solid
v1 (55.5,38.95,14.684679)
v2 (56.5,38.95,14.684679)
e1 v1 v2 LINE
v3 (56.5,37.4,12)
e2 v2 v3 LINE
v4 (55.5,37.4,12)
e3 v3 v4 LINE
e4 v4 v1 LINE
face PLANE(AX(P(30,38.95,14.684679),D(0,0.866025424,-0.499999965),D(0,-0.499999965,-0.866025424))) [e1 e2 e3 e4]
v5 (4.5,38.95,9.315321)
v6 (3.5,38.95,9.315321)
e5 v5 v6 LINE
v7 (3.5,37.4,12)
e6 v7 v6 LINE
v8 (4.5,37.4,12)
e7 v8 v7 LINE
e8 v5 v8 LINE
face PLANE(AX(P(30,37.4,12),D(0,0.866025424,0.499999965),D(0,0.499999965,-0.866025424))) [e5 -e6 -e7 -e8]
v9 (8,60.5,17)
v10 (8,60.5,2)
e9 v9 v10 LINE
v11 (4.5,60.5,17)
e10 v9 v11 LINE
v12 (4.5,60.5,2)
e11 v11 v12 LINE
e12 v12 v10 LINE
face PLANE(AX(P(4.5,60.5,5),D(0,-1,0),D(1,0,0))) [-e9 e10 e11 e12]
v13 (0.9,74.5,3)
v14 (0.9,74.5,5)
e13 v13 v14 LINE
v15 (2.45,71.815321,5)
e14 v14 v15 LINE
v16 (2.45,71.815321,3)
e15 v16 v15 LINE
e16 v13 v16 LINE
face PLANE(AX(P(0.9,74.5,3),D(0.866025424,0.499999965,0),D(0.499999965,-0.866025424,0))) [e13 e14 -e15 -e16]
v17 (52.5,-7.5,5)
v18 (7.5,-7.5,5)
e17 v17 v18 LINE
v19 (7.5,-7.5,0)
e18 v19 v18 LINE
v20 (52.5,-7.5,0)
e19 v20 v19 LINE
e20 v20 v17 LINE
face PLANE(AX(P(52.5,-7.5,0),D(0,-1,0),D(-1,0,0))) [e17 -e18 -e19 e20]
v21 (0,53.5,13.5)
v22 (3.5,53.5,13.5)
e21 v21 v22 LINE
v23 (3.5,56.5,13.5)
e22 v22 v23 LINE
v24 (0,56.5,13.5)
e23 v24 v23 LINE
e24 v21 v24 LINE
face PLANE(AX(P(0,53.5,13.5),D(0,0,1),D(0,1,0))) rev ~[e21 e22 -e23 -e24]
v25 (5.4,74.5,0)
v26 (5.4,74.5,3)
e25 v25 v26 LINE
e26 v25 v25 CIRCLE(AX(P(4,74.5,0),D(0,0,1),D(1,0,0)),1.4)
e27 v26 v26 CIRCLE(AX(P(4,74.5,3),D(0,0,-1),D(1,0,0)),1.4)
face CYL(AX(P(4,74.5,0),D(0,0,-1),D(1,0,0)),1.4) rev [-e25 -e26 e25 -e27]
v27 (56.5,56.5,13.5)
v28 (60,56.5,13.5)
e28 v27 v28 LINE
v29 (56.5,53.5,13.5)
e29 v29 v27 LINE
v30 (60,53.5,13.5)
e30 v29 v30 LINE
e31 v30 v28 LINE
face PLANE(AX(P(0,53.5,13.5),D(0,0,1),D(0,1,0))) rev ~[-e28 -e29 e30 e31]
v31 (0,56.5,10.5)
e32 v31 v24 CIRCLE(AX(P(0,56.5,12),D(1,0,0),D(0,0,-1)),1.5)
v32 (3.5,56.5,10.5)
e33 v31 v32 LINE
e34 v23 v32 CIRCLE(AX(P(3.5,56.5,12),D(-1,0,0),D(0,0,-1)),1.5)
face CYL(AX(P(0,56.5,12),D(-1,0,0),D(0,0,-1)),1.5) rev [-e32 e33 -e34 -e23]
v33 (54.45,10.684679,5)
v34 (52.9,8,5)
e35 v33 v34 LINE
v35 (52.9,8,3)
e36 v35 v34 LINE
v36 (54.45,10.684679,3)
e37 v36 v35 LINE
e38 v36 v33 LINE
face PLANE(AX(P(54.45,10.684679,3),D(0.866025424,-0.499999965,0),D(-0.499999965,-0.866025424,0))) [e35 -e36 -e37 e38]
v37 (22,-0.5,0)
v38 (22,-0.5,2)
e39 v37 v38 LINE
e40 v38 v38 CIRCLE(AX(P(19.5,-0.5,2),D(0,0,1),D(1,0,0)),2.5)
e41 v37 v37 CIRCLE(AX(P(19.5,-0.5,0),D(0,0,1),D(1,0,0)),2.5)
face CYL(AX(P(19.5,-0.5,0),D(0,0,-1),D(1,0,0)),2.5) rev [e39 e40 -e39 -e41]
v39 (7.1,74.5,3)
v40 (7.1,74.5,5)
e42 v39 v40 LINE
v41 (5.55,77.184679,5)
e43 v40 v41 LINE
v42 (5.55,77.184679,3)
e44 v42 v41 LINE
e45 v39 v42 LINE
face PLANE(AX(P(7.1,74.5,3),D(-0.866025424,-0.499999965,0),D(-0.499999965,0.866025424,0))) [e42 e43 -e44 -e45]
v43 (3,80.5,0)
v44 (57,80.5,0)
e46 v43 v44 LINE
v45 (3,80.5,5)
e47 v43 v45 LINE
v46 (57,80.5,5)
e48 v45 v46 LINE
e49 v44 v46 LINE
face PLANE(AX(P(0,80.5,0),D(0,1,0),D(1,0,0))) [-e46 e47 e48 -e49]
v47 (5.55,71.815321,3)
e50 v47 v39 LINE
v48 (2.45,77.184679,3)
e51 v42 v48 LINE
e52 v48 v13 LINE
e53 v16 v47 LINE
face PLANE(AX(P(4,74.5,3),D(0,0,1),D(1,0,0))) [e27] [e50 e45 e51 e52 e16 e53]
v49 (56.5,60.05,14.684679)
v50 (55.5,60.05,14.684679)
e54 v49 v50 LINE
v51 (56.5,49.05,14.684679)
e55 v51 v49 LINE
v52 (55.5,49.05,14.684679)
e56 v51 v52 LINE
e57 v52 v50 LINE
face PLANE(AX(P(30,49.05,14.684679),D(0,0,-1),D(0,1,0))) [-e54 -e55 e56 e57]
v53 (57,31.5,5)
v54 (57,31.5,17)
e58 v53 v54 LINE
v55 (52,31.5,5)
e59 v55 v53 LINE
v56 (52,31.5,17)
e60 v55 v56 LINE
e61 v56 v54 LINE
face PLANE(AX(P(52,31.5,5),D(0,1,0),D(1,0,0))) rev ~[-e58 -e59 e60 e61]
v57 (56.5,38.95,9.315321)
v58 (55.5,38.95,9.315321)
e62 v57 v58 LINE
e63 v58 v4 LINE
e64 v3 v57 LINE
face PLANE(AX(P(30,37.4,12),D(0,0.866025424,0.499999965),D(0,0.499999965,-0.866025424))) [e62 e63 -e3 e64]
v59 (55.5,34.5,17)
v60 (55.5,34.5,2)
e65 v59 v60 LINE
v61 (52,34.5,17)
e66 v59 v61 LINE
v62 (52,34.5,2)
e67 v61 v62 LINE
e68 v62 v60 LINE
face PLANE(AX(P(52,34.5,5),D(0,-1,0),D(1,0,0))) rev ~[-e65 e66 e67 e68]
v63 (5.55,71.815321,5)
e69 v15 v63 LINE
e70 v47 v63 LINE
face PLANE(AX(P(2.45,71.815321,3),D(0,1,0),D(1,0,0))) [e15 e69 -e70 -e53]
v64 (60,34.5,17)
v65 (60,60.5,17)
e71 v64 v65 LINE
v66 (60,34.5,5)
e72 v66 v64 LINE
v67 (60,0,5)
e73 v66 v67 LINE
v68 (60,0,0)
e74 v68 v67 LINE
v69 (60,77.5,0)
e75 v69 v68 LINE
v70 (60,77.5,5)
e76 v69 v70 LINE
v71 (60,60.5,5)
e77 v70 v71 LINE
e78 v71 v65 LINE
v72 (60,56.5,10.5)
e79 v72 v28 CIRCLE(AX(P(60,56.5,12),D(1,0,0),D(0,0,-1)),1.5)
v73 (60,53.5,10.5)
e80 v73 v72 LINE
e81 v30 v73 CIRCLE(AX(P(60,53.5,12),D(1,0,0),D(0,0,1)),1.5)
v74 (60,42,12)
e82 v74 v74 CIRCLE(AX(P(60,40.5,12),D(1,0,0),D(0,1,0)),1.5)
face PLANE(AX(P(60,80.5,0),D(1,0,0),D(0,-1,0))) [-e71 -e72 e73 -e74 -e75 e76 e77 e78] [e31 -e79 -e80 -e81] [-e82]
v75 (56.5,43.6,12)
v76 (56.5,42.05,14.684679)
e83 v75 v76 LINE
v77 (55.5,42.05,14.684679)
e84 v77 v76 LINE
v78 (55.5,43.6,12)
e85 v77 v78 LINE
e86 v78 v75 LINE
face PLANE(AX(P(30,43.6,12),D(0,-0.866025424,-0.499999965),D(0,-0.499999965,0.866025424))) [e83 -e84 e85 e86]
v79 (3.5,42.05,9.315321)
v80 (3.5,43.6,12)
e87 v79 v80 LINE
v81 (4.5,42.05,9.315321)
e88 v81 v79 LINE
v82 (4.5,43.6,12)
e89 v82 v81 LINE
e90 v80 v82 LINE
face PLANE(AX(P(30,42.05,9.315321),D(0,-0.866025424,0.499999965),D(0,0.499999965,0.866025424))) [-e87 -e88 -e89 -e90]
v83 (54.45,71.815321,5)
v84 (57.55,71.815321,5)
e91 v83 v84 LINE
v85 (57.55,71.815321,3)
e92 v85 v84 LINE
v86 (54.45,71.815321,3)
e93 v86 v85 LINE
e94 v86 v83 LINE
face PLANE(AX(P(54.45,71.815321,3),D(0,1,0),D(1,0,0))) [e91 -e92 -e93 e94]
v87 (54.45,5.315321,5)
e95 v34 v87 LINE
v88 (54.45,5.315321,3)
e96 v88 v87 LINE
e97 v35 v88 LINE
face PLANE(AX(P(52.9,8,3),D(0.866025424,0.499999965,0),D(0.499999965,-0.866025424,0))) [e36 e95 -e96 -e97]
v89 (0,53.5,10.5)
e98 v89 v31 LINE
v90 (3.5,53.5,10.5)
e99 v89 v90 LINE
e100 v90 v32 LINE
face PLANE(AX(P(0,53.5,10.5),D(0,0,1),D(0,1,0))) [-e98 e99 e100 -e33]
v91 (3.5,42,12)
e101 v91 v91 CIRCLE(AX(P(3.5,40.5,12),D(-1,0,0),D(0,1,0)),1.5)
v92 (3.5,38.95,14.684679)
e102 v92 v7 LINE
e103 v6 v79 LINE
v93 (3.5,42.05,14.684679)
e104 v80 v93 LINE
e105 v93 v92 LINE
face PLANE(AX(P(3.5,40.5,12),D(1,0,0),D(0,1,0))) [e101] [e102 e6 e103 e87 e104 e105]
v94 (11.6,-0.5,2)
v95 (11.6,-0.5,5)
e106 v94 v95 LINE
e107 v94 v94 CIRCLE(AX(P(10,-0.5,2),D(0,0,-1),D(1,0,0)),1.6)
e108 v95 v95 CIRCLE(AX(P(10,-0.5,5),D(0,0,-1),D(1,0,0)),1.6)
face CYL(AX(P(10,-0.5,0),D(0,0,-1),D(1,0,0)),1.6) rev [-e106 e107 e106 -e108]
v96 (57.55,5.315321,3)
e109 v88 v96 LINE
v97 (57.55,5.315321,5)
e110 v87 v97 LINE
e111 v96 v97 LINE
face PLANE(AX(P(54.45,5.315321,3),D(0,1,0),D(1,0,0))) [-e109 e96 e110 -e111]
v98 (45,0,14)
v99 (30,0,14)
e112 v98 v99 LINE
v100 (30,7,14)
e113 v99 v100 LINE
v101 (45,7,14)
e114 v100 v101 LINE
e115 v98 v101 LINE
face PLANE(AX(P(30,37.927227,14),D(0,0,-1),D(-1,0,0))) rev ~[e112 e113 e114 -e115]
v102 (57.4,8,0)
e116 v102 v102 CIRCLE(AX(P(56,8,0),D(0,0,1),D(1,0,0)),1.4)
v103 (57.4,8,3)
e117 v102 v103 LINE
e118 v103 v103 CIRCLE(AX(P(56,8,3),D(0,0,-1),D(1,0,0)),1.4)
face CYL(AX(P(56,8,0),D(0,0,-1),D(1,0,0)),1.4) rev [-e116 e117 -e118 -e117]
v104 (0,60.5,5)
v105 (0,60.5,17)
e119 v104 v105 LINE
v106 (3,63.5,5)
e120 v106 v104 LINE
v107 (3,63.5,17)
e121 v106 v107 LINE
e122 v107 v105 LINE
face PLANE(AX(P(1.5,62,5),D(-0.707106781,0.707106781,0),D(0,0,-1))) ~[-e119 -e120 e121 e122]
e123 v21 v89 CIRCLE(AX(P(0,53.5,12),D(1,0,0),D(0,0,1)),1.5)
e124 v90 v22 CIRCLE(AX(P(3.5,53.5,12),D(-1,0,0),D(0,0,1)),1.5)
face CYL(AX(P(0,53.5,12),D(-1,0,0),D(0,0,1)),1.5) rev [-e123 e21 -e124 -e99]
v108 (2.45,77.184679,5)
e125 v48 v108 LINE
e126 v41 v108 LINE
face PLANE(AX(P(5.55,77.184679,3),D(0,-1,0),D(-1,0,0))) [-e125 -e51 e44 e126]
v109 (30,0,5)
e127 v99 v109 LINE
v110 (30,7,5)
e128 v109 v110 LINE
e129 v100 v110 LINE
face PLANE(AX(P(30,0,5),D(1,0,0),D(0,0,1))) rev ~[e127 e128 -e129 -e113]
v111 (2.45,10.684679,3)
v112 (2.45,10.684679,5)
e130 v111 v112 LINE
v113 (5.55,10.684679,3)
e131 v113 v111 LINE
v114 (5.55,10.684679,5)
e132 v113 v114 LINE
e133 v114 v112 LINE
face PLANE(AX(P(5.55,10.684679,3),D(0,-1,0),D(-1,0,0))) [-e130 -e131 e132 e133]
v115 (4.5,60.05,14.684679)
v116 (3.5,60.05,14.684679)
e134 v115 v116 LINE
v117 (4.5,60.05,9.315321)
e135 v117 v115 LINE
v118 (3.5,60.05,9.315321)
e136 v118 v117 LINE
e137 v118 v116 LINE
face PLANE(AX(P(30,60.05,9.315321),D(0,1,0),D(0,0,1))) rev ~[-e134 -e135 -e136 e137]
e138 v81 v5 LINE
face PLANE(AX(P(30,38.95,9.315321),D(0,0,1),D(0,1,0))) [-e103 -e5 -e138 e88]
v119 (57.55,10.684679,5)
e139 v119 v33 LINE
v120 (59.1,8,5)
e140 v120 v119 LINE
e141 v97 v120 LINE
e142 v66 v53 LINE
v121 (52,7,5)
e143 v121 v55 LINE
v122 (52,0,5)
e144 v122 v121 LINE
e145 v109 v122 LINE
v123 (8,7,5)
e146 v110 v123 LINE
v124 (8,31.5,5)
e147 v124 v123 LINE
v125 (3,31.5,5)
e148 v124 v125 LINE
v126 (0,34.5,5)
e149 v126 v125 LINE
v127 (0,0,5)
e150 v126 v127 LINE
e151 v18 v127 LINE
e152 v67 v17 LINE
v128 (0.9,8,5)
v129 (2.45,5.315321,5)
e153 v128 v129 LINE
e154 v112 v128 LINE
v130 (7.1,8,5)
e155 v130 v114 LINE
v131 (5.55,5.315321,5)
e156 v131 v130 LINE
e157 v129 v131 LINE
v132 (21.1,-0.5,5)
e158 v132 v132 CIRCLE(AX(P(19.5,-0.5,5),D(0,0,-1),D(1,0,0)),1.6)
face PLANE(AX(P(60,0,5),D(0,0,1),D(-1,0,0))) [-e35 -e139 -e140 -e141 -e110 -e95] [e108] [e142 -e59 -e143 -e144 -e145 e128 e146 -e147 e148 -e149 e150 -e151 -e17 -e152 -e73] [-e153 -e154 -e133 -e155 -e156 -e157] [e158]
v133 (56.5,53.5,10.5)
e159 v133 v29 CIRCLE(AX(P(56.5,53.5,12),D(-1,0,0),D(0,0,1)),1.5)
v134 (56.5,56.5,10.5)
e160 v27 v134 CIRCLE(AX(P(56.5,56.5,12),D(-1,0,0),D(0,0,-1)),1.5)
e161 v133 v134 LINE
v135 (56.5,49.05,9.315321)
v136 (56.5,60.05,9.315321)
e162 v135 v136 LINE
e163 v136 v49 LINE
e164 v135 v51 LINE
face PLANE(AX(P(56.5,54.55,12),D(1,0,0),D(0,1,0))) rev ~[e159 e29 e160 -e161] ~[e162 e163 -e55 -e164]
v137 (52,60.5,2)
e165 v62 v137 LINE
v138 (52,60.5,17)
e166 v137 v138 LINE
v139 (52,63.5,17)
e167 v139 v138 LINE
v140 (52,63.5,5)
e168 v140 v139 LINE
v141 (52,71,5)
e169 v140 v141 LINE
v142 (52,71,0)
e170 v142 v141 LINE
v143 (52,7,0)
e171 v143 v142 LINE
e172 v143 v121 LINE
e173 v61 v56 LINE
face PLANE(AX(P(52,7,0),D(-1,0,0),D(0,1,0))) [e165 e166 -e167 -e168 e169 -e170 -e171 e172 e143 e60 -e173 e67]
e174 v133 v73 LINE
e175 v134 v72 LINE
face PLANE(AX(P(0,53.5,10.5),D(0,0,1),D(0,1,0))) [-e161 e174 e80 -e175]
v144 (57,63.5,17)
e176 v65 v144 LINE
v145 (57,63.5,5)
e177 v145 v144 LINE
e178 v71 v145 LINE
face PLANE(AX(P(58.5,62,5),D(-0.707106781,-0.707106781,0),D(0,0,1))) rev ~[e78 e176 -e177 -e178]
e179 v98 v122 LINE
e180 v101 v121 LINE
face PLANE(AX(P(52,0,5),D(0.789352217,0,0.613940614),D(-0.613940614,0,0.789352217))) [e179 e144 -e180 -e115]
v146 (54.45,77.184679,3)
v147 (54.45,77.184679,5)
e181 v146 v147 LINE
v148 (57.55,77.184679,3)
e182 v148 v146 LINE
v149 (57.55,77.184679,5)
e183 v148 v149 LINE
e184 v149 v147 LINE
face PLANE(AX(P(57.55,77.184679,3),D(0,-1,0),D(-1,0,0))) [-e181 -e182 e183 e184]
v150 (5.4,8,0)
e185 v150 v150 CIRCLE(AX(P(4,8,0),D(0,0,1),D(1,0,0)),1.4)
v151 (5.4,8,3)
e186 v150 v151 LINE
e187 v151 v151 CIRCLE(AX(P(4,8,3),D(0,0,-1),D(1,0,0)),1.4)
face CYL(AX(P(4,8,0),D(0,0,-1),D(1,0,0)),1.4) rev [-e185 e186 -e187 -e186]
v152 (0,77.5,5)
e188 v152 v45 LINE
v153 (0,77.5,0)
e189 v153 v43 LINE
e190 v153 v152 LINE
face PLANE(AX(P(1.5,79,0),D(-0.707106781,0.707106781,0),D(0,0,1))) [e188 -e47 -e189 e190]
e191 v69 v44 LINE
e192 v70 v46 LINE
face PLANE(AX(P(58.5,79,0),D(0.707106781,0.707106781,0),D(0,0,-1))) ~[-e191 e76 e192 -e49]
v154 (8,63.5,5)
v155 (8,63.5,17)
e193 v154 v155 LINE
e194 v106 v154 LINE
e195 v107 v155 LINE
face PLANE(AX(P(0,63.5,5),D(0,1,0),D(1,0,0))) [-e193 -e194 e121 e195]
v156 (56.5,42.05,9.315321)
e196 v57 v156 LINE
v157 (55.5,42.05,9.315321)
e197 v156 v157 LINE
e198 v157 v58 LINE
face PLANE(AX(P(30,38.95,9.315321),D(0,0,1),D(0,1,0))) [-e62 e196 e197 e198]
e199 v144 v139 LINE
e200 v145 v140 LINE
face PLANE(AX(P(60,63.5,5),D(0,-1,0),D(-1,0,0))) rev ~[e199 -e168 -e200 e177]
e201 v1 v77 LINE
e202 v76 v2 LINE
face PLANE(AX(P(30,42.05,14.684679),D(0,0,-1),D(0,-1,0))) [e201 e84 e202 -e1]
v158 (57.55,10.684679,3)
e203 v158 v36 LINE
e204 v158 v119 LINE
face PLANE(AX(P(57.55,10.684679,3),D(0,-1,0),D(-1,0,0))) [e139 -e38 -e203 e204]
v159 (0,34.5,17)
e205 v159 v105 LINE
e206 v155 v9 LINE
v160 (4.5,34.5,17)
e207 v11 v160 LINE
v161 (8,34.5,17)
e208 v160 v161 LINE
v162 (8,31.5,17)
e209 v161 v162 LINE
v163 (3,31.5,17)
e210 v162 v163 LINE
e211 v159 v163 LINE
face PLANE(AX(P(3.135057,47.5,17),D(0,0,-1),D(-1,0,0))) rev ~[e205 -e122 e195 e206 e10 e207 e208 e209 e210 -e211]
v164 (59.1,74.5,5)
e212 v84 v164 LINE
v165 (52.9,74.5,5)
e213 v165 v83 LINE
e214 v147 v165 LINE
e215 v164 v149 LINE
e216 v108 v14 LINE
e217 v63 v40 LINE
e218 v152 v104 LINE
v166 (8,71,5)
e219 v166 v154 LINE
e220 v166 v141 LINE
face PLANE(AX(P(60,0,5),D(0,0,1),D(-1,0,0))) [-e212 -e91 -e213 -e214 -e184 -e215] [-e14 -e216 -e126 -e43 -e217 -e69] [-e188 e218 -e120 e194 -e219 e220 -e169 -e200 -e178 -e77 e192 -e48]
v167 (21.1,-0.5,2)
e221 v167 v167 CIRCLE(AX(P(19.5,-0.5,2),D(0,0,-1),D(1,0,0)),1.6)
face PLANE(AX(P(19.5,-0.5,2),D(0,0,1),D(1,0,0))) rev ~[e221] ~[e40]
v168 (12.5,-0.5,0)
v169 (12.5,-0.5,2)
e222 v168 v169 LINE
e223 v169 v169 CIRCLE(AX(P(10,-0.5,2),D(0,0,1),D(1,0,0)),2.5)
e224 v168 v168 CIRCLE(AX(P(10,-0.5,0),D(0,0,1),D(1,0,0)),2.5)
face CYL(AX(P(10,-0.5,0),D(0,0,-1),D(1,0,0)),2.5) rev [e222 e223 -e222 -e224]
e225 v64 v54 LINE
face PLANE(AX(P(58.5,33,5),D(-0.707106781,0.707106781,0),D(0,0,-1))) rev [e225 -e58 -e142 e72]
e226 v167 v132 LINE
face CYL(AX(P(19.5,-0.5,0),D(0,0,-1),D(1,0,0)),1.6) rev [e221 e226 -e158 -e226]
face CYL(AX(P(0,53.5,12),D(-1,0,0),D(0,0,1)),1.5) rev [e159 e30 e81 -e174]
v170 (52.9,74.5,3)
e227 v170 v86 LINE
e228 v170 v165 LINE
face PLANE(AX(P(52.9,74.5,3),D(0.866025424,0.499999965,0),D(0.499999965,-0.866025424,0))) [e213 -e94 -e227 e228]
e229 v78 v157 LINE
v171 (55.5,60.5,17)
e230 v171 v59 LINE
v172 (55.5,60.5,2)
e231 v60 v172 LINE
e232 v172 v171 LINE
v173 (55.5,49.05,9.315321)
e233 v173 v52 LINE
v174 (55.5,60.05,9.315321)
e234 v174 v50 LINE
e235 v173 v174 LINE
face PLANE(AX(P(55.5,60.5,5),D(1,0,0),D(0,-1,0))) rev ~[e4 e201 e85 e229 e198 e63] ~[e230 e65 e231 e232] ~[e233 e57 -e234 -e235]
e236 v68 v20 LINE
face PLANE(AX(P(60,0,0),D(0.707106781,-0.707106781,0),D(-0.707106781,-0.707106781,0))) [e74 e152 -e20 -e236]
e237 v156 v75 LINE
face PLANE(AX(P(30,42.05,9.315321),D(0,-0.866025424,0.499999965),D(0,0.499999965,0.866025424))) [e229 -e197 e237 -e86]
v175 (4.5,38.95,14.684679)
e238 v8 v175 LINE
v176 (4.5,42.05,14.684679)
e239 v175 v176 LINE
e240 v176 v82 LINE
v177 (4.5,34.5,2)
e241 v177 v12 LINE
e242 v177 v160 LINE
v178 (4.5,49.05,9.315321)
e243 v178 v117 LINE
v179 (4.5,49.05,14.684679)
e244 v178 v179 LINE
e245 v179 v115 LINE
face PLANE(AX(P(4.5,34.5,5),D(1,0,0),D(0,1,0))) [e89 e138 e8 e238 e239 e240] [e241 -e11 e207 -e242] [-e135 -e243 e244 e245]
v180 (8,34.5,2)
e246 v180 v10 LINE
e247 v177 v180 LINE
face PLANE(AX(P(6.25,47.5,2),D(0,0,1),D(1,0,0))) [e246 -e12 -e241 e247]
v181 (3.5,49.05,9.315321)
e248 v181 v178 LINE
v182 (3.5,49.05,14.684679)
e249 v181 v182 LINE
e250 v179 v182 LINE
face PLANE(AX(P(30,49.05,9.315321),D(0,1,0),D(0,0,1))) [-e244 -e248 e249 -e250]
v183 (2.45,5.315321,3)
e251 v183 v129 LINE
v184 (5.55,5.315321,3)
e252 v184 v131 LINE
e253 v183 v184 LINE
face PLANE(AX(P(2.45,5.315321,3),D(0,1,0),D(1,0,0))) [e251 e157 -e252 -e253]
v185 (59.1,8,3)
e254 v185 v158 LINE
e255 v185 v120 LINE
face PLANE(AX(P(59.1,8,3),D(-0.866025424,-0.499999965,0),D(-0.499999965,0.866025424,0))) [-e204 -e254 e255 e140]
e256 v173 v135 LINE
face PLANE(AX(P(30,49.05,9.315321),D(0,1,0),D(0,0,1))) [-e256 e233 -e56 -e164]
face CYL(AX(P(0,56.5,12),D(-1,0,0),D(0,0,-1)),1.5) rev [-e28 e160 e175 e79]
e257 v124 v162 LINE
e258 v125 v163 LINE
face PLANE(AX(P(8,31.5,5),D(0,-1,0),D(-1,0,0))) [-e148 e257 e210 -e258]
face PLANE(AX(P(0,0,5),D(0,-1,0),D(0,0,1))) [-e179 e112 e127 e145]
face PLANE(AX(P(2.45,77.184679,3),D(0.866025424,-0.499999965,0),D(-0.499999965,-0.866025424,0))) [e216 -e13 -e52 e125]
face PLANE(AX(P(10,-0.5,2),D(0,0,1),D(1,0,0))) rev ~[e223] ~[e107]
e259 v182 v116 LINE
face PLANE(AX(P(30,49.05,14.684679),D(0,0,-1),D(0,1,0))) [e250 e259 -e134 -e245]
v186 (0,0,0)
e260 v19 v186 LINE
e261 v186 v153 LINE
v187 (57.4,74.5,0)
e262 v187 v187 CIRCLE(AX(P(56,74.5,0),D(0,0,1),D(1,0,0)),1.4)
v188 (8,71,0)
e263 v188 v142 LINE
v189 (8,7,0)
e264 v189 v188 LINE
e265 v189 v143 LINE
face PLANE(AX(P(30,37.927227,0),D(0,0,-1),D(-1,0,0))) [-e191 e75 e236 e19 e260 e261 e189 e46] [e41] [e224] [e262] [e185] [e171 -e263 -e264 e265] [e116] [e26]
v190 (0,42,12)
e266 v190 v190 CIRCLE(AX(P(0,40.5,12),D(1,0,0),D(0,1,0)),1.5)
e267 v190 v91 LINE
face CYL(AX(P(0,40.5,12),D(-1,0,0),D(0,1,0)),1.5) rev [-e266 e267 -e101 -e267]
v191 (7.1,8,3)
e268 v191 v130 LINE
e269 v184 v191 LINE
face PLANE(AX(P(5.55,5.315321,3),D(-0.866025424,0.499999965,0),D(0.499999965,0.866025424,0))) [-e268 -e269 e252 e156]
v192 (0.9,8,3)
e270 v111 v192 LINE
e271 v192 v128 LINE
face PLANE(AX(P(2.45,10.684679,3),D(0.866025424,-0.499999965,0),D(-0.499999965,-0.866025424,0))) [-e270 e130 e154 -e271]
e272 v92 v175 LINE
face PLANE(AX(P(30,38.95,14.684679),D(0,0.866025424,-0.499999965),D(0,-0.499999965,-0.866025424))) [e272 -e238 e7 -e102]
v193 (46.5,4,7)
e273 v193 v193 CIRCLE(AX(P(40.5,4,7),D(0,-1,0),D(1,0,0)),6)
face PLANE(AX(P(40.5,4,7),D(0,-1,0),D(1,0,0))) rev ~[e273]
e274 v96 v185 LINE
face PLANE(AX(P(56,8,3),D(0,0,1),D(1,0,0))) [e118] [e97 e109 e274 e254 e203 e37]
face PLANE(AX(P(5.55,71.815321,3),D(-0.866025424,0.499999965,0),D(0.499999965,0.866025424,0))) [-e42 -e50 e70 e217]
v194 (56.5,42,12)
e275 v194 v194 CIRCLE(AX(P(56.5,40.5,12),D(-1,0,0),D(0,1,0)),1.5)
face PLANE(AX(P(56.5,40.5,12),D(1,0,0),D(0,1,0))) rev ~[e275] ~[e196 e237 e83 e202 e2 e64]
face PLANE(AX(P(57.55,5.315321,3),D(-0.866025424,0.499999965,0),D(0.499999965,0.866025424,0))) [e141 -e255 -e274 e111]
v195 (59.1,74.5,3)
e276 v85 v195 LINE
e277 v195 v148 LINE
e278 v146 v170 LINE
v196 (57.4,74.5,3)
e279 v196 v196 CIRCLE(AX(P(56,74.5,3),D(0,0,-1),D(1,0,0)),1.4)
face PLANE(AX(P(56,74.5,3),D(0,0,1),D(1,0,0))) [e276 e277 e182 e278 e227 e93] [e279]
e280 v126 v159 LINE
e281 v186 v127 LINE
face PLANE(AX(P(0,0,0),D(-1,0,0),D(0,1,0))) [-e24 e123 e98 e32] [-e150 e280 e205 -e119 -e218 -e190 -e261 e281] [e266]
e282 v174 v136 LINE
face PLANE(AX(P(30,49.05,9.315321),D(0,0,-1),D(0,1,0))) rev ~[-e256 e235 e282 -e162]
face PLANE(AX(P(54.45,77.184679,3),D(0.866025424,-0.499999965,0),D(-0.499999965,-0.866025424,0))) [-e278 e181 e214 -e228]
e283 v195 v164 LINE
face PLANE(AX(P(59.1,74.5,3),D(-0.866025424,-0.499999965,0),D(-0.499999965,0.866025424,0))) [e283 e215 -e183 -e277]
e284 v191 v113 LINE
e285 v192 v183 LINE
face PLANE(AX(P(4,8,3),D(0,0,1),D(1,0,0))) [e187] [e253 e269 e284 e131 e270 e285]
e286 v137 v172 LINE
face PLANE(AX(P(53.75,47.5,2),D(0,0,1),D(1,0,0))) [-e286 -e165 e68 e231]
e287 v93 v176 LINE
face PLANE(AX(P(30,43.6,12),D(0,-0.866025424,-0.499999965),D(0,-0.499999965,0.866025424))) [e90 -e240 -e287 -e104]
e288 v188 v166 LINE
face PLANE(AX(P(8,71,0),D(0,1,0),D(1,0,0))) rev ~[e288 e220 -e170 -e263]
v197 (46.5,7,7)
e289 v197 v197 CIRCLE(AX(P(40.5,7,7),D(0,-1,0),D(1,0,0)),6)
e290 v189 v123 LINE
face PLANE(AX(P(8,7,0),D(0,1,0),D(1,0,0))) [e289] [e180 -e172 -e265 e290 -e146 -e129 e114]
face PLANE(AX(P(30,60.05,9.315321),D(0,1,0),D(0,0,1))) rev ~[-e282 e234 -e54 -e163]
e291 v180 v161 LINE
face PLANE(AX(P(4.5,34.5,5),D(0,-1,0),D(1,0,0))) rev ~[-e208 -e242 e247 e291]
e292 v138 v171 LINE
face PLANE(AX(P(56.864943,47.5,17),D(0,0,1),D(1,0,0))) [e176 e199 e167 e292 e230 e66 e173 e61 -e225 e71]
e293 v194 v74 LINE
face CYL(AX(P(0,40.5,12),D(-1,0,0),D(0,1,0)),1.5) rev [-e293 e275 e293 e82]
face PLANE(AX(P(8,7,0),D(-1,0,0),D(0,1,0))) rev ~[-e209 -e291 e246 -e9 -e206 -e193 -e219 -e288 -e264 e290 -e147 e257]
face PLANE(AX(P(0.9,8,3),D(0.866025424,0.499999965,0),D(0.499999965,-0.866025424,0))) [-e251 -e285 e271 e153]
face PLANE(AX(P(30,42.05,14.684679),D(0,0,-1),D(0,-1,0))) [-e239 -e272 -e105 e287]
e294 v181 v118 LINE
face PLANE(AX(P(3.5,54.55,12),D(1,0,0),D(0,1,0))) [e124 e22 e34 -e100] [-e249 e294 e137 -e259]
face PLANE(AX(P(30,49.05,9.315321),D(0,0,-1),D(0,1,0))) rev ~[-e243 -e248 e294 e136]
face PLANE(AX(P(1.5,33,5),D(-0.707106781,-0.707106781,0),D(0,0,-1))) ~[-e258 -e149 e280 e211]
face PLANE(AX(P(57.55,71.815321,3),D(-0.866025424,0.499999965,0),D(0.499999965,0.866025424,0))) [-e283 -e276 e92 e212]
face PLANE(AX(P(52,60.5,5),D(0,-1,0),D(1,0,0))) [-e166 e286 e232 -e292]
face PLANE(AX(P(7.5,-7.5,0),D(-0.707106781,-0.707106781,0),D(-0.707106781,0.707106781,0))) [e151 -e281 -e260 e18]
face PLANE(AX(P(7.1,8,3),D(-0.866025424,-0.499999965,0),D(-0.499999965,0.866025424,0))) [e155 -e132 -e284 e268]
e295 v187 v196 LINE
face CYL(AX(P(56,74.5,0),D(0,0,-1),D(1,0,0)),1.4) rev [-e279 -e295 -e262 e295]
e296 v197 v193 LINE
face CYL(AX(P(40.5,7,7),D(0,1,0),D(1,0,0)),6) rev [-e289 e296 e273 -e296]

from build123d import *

# Parameters (mm, degrees)
SKETCH021_W  = 22
SKETCH021_H  = 12.704962
PAD014_DEPTH = 10
SKETCH020_R  = 2.5
PAD013_DEPTH = 2
SKETCH015_R  = 1.5
PAD008_DEPTH = 60
SKETCH019_R  = 1.6
PAD012_DEPTH = 5
PAD005_DEPTH = 2
SKETCH018_W  = 11
SKETCH018_H  = 5.369358
PAD011_DEPTH = 26.5
SKETCH022_W  = 21.583895
SKETCH022_H  = 15.194446
PAD015_DEPTH = 60
SKETCH010_R  = 6
PAD003_DEPTH = 3
SKETCH009_W  = 30
SKETCH009_H  = 9
PAD002_DEPTH = 80.5
SKETCH008_R  = 1.4
PAD001_DEPTH = 14
SKETCH013_W  = 3.5
SKETCH013_H  = 26
PAD006_DEPTH = 3
SKETCH_W     = 44
SKETCH_H     = 64
PAD_DEPTH    = 14
PAD007_DEPTH = 12
CHAMFER_SIZE = 3


with BuildPart() as pad014:
    # Sketch021 → Pad014 (new body)
    with BuildSketch(Plane.XZ.offset(-81)):
        with Locations((41, 11.352481)):
            Rectangle(SKETCH021_W, SKETCH021_H)
    extrude(amount=PAD014_DEPTH)


with BuildPart() as endtopflush:
    # Sketch020 → Pad013 (new body)
    with BuildSketch(Plane.XY):
        with Locations((10, -0.5)):
            Circle(SKETCH020_R)
        with Locations((19.5, -0.5)):
            Circle(SKETCH020_R)
    extrude(amount=PAD013_DEPTH)


with BuildPart() as betltensmount:
    # Sketch015 → Pad008 (new body)
    with BuildSketch(Plane.YZ):
        with Locations((40.5, 12)):
            Circle(SKETCH015_R)
        with BuildLine():
            ThreePointArc((53.5, 13.5), (52, 12), (53.5, 10.5))
            Line((53.5, 10.5), (56.5, 10.5))
            ThreePointArc((56.5, 10.5), (58, 12), (56.5, 13.5))
            Line((53.5, 13.5), (56.5, 13.5))
        make_face()
    extrude(amount=PAD008_DEPTH)


with BuildPart() as endstopmount:
    # Sketch019 → Pad012 (new body)
    with BuildSketch(Plane.XY):
        with Locations((10, -0.5)):
            Circle(SKETCH019_R)
        with Locations((19.5, -0.5)):
            Circle(SKETCH019_R)
    extrude(amount=PAD012_DEPTH)


with BuildPart() as nutflush:
    # Sketch006 → Pad005 (new body)
    with BuildSketch(Plane(origin=(0, -9.25, 3), x_dir=(1, 0, 0), z_dir=(0, 0, 1))):
        Polygon((5.55, 86.434679), (2.45, 86.434679), (0.9, 83.75), (2.45, 81.065321), (5.55, 81.065321), (7.1, 83.75), align=None)
        Polygon((57.55, 81.065321), (59.1, 83.75), (57.55, 86.434679), (54.45, 86.434679), (52.9, 83.75), (54.45, 81.065321), align=None)
        Polygon((0.9, 17.25), (2.45, 14.565321), (5.55, 14.565321), (7.1, 17.25), (5.55, 19.934679), (2.45, 19.934679), align=None)
        Polygon((52.9, 17.25), (54.45, 14.565321), (57.55, 14.565321), (59.1, 17.25), (57.55, 19.934679), (54.45, 19.934679), align=None)
    extrude(amount=PAD005_DEPTH)


with BuildPart() as belttensionflush:
    # Sketch018 → Pad011 (new body, symmetric)
    with BuildSketch(Plane.YZ.offset(30)):
        Polygon((42.05, 9.315321), (43.6, 12), (42.05, 14.684679), (38.95, 14.684679), (37.4, 12), (38.95, 9.315321), align=None)
        with Locations((54.55, 12)):
            Rectangle(SKETCH018_W, SKETCH018_H)
    extrude(amount=PAD011_DEPTH, both=True)


with BuildPart() as cutblock02:
    # Sketch022 → Pad015 (new body)
    with BuildSketch(Plane.YZ):
        with Locations((-10.791947, 12.597223)):
            Rectangle(SKETCH022_W, SKETCH022_H)
    extrude(amount=PAD015_DEPTH)

    # Fusion002: union Pad014, EndtopFlush, BetlTensMount, EndstopMount, NutFlush, BeltTensionFlush
    add(pad014.part)
    add(endtopflush.part)
    add(betltensmount.part)
    add(endstopmount.part)
    add(nutflush.part)
    add(belttensionflush.part)


with BuildPart() as springhole:
    # Sketch010 → Pad003 (new body)
    with BuildSketch(Plane.XZ.offset(-7)):
        with Locations((40.5, 7)):
            Circle(SKETCH010_R)
    extrude(amount=PAD003_DEPTH)


with BuildPart() as profile:
    # Sketch009 → Pad002 (new body)
    with BuildSketch(Plane.XZ):
        with Locations((15, 9.5)):
            Rectangle(SKETCH009_W, SKETCH009_H)
        Polygon((52, 5), (45, 14), (60, 14), (60, 5), align=None)
    extrude(amount=-PAD002_DEPTH)


with BuildPart() as mounthole:
    # Sketch008 → Pad001 (new body)
    with BuildSketch(Plane.XY):
        with Locations((4, 8)):
            Circle(SKETCH008_R)
        with Locations((56, 8)):
            Circle(SKETCH008_R)
        with Locations((4, 74.5)):
            Circle(SKETCH008_R)
        with Locations((56, 74.5)):
            Circle(SKETCH008_R)
    extrude(amount=PAD001_DEPTH)


with BuildPart() as cutblocks:
    # Sketch013 → Pad006 (new body)
    with BuildSketch(Plane.XY.offset(5)):
        with Locations((6.25, 47.5)):
            Rectangle(SKETCH013_W, SKETCH013_H)
        with Locations((53.75, 47.5)):
            Rectangle(SKETCH013_W, SKETCH013_H)
    extrude(amount=-PAD006_DEPTH)

    # Fusion001: union SpringHole, Profile, MountHole
    add(springhole.part)
    add(profile.part)
    add(mounthole.part)


with BuildPart() as cut:
    # Sketch → Pad (new body)
    with BuildSketch(Plane.XY):
        Polygon((60, 80.5), (60, 0), (52.5, -7.5), (7.5, -7.5), (0, 0), (0, 80.5), align=None)
        with Locations((30, 39)):
            Rectangle(SKETCH_W, SKETCH_H, mode=Mode.SUBTRACT)
    extrude(amount=PAD_DEPTH)

    # Cut: cut CutBlocks
    add(cutblocks.part, mode=Mode.SUBTRACT)


with BuildPart() as chamfer_body:
    # Sketch014 → Pad007 (new body)
    with BuildSketch(Plane.XY.offset(5)):
        Polygon((4.5, 60.5), (4.5, 34.5), (8, 34.5), (8, 31.5), (0, 31.5), (0, 63.5), (8, 63.5), (8, 60.5), align=None)
        Polygon((55.5, 60.5), (55.5, 34.5), (52, 34.5), (52, 31.5), (60, 31.5), (60, 63.5), (52, 63.5), (52, 60.5), align=None)
    extrude(amount=PAD007_DEPTH)

    # Fusion: union Cut
    add(cut.part)

    # Cut001: cut CutBlock02
    add(cutblock02.part, mode=Mode.SUBTRACT)

    # Chamfer
    chamfer_edges = [chamfer_body.edges().sort_by_distance(p)[0] for p in [
        (0, 80.5, 2.5),
        (0, 63.5, 11),
        (60, 63.5, 11),
        (60, 80.5, 2.5),
        (0, 31.5, 11),
        (60, 31.5, 11),
    ]]
    chamfer(chamfer_edges, length=CHAMFER_SIZE)


solid = chamfer_body.part
